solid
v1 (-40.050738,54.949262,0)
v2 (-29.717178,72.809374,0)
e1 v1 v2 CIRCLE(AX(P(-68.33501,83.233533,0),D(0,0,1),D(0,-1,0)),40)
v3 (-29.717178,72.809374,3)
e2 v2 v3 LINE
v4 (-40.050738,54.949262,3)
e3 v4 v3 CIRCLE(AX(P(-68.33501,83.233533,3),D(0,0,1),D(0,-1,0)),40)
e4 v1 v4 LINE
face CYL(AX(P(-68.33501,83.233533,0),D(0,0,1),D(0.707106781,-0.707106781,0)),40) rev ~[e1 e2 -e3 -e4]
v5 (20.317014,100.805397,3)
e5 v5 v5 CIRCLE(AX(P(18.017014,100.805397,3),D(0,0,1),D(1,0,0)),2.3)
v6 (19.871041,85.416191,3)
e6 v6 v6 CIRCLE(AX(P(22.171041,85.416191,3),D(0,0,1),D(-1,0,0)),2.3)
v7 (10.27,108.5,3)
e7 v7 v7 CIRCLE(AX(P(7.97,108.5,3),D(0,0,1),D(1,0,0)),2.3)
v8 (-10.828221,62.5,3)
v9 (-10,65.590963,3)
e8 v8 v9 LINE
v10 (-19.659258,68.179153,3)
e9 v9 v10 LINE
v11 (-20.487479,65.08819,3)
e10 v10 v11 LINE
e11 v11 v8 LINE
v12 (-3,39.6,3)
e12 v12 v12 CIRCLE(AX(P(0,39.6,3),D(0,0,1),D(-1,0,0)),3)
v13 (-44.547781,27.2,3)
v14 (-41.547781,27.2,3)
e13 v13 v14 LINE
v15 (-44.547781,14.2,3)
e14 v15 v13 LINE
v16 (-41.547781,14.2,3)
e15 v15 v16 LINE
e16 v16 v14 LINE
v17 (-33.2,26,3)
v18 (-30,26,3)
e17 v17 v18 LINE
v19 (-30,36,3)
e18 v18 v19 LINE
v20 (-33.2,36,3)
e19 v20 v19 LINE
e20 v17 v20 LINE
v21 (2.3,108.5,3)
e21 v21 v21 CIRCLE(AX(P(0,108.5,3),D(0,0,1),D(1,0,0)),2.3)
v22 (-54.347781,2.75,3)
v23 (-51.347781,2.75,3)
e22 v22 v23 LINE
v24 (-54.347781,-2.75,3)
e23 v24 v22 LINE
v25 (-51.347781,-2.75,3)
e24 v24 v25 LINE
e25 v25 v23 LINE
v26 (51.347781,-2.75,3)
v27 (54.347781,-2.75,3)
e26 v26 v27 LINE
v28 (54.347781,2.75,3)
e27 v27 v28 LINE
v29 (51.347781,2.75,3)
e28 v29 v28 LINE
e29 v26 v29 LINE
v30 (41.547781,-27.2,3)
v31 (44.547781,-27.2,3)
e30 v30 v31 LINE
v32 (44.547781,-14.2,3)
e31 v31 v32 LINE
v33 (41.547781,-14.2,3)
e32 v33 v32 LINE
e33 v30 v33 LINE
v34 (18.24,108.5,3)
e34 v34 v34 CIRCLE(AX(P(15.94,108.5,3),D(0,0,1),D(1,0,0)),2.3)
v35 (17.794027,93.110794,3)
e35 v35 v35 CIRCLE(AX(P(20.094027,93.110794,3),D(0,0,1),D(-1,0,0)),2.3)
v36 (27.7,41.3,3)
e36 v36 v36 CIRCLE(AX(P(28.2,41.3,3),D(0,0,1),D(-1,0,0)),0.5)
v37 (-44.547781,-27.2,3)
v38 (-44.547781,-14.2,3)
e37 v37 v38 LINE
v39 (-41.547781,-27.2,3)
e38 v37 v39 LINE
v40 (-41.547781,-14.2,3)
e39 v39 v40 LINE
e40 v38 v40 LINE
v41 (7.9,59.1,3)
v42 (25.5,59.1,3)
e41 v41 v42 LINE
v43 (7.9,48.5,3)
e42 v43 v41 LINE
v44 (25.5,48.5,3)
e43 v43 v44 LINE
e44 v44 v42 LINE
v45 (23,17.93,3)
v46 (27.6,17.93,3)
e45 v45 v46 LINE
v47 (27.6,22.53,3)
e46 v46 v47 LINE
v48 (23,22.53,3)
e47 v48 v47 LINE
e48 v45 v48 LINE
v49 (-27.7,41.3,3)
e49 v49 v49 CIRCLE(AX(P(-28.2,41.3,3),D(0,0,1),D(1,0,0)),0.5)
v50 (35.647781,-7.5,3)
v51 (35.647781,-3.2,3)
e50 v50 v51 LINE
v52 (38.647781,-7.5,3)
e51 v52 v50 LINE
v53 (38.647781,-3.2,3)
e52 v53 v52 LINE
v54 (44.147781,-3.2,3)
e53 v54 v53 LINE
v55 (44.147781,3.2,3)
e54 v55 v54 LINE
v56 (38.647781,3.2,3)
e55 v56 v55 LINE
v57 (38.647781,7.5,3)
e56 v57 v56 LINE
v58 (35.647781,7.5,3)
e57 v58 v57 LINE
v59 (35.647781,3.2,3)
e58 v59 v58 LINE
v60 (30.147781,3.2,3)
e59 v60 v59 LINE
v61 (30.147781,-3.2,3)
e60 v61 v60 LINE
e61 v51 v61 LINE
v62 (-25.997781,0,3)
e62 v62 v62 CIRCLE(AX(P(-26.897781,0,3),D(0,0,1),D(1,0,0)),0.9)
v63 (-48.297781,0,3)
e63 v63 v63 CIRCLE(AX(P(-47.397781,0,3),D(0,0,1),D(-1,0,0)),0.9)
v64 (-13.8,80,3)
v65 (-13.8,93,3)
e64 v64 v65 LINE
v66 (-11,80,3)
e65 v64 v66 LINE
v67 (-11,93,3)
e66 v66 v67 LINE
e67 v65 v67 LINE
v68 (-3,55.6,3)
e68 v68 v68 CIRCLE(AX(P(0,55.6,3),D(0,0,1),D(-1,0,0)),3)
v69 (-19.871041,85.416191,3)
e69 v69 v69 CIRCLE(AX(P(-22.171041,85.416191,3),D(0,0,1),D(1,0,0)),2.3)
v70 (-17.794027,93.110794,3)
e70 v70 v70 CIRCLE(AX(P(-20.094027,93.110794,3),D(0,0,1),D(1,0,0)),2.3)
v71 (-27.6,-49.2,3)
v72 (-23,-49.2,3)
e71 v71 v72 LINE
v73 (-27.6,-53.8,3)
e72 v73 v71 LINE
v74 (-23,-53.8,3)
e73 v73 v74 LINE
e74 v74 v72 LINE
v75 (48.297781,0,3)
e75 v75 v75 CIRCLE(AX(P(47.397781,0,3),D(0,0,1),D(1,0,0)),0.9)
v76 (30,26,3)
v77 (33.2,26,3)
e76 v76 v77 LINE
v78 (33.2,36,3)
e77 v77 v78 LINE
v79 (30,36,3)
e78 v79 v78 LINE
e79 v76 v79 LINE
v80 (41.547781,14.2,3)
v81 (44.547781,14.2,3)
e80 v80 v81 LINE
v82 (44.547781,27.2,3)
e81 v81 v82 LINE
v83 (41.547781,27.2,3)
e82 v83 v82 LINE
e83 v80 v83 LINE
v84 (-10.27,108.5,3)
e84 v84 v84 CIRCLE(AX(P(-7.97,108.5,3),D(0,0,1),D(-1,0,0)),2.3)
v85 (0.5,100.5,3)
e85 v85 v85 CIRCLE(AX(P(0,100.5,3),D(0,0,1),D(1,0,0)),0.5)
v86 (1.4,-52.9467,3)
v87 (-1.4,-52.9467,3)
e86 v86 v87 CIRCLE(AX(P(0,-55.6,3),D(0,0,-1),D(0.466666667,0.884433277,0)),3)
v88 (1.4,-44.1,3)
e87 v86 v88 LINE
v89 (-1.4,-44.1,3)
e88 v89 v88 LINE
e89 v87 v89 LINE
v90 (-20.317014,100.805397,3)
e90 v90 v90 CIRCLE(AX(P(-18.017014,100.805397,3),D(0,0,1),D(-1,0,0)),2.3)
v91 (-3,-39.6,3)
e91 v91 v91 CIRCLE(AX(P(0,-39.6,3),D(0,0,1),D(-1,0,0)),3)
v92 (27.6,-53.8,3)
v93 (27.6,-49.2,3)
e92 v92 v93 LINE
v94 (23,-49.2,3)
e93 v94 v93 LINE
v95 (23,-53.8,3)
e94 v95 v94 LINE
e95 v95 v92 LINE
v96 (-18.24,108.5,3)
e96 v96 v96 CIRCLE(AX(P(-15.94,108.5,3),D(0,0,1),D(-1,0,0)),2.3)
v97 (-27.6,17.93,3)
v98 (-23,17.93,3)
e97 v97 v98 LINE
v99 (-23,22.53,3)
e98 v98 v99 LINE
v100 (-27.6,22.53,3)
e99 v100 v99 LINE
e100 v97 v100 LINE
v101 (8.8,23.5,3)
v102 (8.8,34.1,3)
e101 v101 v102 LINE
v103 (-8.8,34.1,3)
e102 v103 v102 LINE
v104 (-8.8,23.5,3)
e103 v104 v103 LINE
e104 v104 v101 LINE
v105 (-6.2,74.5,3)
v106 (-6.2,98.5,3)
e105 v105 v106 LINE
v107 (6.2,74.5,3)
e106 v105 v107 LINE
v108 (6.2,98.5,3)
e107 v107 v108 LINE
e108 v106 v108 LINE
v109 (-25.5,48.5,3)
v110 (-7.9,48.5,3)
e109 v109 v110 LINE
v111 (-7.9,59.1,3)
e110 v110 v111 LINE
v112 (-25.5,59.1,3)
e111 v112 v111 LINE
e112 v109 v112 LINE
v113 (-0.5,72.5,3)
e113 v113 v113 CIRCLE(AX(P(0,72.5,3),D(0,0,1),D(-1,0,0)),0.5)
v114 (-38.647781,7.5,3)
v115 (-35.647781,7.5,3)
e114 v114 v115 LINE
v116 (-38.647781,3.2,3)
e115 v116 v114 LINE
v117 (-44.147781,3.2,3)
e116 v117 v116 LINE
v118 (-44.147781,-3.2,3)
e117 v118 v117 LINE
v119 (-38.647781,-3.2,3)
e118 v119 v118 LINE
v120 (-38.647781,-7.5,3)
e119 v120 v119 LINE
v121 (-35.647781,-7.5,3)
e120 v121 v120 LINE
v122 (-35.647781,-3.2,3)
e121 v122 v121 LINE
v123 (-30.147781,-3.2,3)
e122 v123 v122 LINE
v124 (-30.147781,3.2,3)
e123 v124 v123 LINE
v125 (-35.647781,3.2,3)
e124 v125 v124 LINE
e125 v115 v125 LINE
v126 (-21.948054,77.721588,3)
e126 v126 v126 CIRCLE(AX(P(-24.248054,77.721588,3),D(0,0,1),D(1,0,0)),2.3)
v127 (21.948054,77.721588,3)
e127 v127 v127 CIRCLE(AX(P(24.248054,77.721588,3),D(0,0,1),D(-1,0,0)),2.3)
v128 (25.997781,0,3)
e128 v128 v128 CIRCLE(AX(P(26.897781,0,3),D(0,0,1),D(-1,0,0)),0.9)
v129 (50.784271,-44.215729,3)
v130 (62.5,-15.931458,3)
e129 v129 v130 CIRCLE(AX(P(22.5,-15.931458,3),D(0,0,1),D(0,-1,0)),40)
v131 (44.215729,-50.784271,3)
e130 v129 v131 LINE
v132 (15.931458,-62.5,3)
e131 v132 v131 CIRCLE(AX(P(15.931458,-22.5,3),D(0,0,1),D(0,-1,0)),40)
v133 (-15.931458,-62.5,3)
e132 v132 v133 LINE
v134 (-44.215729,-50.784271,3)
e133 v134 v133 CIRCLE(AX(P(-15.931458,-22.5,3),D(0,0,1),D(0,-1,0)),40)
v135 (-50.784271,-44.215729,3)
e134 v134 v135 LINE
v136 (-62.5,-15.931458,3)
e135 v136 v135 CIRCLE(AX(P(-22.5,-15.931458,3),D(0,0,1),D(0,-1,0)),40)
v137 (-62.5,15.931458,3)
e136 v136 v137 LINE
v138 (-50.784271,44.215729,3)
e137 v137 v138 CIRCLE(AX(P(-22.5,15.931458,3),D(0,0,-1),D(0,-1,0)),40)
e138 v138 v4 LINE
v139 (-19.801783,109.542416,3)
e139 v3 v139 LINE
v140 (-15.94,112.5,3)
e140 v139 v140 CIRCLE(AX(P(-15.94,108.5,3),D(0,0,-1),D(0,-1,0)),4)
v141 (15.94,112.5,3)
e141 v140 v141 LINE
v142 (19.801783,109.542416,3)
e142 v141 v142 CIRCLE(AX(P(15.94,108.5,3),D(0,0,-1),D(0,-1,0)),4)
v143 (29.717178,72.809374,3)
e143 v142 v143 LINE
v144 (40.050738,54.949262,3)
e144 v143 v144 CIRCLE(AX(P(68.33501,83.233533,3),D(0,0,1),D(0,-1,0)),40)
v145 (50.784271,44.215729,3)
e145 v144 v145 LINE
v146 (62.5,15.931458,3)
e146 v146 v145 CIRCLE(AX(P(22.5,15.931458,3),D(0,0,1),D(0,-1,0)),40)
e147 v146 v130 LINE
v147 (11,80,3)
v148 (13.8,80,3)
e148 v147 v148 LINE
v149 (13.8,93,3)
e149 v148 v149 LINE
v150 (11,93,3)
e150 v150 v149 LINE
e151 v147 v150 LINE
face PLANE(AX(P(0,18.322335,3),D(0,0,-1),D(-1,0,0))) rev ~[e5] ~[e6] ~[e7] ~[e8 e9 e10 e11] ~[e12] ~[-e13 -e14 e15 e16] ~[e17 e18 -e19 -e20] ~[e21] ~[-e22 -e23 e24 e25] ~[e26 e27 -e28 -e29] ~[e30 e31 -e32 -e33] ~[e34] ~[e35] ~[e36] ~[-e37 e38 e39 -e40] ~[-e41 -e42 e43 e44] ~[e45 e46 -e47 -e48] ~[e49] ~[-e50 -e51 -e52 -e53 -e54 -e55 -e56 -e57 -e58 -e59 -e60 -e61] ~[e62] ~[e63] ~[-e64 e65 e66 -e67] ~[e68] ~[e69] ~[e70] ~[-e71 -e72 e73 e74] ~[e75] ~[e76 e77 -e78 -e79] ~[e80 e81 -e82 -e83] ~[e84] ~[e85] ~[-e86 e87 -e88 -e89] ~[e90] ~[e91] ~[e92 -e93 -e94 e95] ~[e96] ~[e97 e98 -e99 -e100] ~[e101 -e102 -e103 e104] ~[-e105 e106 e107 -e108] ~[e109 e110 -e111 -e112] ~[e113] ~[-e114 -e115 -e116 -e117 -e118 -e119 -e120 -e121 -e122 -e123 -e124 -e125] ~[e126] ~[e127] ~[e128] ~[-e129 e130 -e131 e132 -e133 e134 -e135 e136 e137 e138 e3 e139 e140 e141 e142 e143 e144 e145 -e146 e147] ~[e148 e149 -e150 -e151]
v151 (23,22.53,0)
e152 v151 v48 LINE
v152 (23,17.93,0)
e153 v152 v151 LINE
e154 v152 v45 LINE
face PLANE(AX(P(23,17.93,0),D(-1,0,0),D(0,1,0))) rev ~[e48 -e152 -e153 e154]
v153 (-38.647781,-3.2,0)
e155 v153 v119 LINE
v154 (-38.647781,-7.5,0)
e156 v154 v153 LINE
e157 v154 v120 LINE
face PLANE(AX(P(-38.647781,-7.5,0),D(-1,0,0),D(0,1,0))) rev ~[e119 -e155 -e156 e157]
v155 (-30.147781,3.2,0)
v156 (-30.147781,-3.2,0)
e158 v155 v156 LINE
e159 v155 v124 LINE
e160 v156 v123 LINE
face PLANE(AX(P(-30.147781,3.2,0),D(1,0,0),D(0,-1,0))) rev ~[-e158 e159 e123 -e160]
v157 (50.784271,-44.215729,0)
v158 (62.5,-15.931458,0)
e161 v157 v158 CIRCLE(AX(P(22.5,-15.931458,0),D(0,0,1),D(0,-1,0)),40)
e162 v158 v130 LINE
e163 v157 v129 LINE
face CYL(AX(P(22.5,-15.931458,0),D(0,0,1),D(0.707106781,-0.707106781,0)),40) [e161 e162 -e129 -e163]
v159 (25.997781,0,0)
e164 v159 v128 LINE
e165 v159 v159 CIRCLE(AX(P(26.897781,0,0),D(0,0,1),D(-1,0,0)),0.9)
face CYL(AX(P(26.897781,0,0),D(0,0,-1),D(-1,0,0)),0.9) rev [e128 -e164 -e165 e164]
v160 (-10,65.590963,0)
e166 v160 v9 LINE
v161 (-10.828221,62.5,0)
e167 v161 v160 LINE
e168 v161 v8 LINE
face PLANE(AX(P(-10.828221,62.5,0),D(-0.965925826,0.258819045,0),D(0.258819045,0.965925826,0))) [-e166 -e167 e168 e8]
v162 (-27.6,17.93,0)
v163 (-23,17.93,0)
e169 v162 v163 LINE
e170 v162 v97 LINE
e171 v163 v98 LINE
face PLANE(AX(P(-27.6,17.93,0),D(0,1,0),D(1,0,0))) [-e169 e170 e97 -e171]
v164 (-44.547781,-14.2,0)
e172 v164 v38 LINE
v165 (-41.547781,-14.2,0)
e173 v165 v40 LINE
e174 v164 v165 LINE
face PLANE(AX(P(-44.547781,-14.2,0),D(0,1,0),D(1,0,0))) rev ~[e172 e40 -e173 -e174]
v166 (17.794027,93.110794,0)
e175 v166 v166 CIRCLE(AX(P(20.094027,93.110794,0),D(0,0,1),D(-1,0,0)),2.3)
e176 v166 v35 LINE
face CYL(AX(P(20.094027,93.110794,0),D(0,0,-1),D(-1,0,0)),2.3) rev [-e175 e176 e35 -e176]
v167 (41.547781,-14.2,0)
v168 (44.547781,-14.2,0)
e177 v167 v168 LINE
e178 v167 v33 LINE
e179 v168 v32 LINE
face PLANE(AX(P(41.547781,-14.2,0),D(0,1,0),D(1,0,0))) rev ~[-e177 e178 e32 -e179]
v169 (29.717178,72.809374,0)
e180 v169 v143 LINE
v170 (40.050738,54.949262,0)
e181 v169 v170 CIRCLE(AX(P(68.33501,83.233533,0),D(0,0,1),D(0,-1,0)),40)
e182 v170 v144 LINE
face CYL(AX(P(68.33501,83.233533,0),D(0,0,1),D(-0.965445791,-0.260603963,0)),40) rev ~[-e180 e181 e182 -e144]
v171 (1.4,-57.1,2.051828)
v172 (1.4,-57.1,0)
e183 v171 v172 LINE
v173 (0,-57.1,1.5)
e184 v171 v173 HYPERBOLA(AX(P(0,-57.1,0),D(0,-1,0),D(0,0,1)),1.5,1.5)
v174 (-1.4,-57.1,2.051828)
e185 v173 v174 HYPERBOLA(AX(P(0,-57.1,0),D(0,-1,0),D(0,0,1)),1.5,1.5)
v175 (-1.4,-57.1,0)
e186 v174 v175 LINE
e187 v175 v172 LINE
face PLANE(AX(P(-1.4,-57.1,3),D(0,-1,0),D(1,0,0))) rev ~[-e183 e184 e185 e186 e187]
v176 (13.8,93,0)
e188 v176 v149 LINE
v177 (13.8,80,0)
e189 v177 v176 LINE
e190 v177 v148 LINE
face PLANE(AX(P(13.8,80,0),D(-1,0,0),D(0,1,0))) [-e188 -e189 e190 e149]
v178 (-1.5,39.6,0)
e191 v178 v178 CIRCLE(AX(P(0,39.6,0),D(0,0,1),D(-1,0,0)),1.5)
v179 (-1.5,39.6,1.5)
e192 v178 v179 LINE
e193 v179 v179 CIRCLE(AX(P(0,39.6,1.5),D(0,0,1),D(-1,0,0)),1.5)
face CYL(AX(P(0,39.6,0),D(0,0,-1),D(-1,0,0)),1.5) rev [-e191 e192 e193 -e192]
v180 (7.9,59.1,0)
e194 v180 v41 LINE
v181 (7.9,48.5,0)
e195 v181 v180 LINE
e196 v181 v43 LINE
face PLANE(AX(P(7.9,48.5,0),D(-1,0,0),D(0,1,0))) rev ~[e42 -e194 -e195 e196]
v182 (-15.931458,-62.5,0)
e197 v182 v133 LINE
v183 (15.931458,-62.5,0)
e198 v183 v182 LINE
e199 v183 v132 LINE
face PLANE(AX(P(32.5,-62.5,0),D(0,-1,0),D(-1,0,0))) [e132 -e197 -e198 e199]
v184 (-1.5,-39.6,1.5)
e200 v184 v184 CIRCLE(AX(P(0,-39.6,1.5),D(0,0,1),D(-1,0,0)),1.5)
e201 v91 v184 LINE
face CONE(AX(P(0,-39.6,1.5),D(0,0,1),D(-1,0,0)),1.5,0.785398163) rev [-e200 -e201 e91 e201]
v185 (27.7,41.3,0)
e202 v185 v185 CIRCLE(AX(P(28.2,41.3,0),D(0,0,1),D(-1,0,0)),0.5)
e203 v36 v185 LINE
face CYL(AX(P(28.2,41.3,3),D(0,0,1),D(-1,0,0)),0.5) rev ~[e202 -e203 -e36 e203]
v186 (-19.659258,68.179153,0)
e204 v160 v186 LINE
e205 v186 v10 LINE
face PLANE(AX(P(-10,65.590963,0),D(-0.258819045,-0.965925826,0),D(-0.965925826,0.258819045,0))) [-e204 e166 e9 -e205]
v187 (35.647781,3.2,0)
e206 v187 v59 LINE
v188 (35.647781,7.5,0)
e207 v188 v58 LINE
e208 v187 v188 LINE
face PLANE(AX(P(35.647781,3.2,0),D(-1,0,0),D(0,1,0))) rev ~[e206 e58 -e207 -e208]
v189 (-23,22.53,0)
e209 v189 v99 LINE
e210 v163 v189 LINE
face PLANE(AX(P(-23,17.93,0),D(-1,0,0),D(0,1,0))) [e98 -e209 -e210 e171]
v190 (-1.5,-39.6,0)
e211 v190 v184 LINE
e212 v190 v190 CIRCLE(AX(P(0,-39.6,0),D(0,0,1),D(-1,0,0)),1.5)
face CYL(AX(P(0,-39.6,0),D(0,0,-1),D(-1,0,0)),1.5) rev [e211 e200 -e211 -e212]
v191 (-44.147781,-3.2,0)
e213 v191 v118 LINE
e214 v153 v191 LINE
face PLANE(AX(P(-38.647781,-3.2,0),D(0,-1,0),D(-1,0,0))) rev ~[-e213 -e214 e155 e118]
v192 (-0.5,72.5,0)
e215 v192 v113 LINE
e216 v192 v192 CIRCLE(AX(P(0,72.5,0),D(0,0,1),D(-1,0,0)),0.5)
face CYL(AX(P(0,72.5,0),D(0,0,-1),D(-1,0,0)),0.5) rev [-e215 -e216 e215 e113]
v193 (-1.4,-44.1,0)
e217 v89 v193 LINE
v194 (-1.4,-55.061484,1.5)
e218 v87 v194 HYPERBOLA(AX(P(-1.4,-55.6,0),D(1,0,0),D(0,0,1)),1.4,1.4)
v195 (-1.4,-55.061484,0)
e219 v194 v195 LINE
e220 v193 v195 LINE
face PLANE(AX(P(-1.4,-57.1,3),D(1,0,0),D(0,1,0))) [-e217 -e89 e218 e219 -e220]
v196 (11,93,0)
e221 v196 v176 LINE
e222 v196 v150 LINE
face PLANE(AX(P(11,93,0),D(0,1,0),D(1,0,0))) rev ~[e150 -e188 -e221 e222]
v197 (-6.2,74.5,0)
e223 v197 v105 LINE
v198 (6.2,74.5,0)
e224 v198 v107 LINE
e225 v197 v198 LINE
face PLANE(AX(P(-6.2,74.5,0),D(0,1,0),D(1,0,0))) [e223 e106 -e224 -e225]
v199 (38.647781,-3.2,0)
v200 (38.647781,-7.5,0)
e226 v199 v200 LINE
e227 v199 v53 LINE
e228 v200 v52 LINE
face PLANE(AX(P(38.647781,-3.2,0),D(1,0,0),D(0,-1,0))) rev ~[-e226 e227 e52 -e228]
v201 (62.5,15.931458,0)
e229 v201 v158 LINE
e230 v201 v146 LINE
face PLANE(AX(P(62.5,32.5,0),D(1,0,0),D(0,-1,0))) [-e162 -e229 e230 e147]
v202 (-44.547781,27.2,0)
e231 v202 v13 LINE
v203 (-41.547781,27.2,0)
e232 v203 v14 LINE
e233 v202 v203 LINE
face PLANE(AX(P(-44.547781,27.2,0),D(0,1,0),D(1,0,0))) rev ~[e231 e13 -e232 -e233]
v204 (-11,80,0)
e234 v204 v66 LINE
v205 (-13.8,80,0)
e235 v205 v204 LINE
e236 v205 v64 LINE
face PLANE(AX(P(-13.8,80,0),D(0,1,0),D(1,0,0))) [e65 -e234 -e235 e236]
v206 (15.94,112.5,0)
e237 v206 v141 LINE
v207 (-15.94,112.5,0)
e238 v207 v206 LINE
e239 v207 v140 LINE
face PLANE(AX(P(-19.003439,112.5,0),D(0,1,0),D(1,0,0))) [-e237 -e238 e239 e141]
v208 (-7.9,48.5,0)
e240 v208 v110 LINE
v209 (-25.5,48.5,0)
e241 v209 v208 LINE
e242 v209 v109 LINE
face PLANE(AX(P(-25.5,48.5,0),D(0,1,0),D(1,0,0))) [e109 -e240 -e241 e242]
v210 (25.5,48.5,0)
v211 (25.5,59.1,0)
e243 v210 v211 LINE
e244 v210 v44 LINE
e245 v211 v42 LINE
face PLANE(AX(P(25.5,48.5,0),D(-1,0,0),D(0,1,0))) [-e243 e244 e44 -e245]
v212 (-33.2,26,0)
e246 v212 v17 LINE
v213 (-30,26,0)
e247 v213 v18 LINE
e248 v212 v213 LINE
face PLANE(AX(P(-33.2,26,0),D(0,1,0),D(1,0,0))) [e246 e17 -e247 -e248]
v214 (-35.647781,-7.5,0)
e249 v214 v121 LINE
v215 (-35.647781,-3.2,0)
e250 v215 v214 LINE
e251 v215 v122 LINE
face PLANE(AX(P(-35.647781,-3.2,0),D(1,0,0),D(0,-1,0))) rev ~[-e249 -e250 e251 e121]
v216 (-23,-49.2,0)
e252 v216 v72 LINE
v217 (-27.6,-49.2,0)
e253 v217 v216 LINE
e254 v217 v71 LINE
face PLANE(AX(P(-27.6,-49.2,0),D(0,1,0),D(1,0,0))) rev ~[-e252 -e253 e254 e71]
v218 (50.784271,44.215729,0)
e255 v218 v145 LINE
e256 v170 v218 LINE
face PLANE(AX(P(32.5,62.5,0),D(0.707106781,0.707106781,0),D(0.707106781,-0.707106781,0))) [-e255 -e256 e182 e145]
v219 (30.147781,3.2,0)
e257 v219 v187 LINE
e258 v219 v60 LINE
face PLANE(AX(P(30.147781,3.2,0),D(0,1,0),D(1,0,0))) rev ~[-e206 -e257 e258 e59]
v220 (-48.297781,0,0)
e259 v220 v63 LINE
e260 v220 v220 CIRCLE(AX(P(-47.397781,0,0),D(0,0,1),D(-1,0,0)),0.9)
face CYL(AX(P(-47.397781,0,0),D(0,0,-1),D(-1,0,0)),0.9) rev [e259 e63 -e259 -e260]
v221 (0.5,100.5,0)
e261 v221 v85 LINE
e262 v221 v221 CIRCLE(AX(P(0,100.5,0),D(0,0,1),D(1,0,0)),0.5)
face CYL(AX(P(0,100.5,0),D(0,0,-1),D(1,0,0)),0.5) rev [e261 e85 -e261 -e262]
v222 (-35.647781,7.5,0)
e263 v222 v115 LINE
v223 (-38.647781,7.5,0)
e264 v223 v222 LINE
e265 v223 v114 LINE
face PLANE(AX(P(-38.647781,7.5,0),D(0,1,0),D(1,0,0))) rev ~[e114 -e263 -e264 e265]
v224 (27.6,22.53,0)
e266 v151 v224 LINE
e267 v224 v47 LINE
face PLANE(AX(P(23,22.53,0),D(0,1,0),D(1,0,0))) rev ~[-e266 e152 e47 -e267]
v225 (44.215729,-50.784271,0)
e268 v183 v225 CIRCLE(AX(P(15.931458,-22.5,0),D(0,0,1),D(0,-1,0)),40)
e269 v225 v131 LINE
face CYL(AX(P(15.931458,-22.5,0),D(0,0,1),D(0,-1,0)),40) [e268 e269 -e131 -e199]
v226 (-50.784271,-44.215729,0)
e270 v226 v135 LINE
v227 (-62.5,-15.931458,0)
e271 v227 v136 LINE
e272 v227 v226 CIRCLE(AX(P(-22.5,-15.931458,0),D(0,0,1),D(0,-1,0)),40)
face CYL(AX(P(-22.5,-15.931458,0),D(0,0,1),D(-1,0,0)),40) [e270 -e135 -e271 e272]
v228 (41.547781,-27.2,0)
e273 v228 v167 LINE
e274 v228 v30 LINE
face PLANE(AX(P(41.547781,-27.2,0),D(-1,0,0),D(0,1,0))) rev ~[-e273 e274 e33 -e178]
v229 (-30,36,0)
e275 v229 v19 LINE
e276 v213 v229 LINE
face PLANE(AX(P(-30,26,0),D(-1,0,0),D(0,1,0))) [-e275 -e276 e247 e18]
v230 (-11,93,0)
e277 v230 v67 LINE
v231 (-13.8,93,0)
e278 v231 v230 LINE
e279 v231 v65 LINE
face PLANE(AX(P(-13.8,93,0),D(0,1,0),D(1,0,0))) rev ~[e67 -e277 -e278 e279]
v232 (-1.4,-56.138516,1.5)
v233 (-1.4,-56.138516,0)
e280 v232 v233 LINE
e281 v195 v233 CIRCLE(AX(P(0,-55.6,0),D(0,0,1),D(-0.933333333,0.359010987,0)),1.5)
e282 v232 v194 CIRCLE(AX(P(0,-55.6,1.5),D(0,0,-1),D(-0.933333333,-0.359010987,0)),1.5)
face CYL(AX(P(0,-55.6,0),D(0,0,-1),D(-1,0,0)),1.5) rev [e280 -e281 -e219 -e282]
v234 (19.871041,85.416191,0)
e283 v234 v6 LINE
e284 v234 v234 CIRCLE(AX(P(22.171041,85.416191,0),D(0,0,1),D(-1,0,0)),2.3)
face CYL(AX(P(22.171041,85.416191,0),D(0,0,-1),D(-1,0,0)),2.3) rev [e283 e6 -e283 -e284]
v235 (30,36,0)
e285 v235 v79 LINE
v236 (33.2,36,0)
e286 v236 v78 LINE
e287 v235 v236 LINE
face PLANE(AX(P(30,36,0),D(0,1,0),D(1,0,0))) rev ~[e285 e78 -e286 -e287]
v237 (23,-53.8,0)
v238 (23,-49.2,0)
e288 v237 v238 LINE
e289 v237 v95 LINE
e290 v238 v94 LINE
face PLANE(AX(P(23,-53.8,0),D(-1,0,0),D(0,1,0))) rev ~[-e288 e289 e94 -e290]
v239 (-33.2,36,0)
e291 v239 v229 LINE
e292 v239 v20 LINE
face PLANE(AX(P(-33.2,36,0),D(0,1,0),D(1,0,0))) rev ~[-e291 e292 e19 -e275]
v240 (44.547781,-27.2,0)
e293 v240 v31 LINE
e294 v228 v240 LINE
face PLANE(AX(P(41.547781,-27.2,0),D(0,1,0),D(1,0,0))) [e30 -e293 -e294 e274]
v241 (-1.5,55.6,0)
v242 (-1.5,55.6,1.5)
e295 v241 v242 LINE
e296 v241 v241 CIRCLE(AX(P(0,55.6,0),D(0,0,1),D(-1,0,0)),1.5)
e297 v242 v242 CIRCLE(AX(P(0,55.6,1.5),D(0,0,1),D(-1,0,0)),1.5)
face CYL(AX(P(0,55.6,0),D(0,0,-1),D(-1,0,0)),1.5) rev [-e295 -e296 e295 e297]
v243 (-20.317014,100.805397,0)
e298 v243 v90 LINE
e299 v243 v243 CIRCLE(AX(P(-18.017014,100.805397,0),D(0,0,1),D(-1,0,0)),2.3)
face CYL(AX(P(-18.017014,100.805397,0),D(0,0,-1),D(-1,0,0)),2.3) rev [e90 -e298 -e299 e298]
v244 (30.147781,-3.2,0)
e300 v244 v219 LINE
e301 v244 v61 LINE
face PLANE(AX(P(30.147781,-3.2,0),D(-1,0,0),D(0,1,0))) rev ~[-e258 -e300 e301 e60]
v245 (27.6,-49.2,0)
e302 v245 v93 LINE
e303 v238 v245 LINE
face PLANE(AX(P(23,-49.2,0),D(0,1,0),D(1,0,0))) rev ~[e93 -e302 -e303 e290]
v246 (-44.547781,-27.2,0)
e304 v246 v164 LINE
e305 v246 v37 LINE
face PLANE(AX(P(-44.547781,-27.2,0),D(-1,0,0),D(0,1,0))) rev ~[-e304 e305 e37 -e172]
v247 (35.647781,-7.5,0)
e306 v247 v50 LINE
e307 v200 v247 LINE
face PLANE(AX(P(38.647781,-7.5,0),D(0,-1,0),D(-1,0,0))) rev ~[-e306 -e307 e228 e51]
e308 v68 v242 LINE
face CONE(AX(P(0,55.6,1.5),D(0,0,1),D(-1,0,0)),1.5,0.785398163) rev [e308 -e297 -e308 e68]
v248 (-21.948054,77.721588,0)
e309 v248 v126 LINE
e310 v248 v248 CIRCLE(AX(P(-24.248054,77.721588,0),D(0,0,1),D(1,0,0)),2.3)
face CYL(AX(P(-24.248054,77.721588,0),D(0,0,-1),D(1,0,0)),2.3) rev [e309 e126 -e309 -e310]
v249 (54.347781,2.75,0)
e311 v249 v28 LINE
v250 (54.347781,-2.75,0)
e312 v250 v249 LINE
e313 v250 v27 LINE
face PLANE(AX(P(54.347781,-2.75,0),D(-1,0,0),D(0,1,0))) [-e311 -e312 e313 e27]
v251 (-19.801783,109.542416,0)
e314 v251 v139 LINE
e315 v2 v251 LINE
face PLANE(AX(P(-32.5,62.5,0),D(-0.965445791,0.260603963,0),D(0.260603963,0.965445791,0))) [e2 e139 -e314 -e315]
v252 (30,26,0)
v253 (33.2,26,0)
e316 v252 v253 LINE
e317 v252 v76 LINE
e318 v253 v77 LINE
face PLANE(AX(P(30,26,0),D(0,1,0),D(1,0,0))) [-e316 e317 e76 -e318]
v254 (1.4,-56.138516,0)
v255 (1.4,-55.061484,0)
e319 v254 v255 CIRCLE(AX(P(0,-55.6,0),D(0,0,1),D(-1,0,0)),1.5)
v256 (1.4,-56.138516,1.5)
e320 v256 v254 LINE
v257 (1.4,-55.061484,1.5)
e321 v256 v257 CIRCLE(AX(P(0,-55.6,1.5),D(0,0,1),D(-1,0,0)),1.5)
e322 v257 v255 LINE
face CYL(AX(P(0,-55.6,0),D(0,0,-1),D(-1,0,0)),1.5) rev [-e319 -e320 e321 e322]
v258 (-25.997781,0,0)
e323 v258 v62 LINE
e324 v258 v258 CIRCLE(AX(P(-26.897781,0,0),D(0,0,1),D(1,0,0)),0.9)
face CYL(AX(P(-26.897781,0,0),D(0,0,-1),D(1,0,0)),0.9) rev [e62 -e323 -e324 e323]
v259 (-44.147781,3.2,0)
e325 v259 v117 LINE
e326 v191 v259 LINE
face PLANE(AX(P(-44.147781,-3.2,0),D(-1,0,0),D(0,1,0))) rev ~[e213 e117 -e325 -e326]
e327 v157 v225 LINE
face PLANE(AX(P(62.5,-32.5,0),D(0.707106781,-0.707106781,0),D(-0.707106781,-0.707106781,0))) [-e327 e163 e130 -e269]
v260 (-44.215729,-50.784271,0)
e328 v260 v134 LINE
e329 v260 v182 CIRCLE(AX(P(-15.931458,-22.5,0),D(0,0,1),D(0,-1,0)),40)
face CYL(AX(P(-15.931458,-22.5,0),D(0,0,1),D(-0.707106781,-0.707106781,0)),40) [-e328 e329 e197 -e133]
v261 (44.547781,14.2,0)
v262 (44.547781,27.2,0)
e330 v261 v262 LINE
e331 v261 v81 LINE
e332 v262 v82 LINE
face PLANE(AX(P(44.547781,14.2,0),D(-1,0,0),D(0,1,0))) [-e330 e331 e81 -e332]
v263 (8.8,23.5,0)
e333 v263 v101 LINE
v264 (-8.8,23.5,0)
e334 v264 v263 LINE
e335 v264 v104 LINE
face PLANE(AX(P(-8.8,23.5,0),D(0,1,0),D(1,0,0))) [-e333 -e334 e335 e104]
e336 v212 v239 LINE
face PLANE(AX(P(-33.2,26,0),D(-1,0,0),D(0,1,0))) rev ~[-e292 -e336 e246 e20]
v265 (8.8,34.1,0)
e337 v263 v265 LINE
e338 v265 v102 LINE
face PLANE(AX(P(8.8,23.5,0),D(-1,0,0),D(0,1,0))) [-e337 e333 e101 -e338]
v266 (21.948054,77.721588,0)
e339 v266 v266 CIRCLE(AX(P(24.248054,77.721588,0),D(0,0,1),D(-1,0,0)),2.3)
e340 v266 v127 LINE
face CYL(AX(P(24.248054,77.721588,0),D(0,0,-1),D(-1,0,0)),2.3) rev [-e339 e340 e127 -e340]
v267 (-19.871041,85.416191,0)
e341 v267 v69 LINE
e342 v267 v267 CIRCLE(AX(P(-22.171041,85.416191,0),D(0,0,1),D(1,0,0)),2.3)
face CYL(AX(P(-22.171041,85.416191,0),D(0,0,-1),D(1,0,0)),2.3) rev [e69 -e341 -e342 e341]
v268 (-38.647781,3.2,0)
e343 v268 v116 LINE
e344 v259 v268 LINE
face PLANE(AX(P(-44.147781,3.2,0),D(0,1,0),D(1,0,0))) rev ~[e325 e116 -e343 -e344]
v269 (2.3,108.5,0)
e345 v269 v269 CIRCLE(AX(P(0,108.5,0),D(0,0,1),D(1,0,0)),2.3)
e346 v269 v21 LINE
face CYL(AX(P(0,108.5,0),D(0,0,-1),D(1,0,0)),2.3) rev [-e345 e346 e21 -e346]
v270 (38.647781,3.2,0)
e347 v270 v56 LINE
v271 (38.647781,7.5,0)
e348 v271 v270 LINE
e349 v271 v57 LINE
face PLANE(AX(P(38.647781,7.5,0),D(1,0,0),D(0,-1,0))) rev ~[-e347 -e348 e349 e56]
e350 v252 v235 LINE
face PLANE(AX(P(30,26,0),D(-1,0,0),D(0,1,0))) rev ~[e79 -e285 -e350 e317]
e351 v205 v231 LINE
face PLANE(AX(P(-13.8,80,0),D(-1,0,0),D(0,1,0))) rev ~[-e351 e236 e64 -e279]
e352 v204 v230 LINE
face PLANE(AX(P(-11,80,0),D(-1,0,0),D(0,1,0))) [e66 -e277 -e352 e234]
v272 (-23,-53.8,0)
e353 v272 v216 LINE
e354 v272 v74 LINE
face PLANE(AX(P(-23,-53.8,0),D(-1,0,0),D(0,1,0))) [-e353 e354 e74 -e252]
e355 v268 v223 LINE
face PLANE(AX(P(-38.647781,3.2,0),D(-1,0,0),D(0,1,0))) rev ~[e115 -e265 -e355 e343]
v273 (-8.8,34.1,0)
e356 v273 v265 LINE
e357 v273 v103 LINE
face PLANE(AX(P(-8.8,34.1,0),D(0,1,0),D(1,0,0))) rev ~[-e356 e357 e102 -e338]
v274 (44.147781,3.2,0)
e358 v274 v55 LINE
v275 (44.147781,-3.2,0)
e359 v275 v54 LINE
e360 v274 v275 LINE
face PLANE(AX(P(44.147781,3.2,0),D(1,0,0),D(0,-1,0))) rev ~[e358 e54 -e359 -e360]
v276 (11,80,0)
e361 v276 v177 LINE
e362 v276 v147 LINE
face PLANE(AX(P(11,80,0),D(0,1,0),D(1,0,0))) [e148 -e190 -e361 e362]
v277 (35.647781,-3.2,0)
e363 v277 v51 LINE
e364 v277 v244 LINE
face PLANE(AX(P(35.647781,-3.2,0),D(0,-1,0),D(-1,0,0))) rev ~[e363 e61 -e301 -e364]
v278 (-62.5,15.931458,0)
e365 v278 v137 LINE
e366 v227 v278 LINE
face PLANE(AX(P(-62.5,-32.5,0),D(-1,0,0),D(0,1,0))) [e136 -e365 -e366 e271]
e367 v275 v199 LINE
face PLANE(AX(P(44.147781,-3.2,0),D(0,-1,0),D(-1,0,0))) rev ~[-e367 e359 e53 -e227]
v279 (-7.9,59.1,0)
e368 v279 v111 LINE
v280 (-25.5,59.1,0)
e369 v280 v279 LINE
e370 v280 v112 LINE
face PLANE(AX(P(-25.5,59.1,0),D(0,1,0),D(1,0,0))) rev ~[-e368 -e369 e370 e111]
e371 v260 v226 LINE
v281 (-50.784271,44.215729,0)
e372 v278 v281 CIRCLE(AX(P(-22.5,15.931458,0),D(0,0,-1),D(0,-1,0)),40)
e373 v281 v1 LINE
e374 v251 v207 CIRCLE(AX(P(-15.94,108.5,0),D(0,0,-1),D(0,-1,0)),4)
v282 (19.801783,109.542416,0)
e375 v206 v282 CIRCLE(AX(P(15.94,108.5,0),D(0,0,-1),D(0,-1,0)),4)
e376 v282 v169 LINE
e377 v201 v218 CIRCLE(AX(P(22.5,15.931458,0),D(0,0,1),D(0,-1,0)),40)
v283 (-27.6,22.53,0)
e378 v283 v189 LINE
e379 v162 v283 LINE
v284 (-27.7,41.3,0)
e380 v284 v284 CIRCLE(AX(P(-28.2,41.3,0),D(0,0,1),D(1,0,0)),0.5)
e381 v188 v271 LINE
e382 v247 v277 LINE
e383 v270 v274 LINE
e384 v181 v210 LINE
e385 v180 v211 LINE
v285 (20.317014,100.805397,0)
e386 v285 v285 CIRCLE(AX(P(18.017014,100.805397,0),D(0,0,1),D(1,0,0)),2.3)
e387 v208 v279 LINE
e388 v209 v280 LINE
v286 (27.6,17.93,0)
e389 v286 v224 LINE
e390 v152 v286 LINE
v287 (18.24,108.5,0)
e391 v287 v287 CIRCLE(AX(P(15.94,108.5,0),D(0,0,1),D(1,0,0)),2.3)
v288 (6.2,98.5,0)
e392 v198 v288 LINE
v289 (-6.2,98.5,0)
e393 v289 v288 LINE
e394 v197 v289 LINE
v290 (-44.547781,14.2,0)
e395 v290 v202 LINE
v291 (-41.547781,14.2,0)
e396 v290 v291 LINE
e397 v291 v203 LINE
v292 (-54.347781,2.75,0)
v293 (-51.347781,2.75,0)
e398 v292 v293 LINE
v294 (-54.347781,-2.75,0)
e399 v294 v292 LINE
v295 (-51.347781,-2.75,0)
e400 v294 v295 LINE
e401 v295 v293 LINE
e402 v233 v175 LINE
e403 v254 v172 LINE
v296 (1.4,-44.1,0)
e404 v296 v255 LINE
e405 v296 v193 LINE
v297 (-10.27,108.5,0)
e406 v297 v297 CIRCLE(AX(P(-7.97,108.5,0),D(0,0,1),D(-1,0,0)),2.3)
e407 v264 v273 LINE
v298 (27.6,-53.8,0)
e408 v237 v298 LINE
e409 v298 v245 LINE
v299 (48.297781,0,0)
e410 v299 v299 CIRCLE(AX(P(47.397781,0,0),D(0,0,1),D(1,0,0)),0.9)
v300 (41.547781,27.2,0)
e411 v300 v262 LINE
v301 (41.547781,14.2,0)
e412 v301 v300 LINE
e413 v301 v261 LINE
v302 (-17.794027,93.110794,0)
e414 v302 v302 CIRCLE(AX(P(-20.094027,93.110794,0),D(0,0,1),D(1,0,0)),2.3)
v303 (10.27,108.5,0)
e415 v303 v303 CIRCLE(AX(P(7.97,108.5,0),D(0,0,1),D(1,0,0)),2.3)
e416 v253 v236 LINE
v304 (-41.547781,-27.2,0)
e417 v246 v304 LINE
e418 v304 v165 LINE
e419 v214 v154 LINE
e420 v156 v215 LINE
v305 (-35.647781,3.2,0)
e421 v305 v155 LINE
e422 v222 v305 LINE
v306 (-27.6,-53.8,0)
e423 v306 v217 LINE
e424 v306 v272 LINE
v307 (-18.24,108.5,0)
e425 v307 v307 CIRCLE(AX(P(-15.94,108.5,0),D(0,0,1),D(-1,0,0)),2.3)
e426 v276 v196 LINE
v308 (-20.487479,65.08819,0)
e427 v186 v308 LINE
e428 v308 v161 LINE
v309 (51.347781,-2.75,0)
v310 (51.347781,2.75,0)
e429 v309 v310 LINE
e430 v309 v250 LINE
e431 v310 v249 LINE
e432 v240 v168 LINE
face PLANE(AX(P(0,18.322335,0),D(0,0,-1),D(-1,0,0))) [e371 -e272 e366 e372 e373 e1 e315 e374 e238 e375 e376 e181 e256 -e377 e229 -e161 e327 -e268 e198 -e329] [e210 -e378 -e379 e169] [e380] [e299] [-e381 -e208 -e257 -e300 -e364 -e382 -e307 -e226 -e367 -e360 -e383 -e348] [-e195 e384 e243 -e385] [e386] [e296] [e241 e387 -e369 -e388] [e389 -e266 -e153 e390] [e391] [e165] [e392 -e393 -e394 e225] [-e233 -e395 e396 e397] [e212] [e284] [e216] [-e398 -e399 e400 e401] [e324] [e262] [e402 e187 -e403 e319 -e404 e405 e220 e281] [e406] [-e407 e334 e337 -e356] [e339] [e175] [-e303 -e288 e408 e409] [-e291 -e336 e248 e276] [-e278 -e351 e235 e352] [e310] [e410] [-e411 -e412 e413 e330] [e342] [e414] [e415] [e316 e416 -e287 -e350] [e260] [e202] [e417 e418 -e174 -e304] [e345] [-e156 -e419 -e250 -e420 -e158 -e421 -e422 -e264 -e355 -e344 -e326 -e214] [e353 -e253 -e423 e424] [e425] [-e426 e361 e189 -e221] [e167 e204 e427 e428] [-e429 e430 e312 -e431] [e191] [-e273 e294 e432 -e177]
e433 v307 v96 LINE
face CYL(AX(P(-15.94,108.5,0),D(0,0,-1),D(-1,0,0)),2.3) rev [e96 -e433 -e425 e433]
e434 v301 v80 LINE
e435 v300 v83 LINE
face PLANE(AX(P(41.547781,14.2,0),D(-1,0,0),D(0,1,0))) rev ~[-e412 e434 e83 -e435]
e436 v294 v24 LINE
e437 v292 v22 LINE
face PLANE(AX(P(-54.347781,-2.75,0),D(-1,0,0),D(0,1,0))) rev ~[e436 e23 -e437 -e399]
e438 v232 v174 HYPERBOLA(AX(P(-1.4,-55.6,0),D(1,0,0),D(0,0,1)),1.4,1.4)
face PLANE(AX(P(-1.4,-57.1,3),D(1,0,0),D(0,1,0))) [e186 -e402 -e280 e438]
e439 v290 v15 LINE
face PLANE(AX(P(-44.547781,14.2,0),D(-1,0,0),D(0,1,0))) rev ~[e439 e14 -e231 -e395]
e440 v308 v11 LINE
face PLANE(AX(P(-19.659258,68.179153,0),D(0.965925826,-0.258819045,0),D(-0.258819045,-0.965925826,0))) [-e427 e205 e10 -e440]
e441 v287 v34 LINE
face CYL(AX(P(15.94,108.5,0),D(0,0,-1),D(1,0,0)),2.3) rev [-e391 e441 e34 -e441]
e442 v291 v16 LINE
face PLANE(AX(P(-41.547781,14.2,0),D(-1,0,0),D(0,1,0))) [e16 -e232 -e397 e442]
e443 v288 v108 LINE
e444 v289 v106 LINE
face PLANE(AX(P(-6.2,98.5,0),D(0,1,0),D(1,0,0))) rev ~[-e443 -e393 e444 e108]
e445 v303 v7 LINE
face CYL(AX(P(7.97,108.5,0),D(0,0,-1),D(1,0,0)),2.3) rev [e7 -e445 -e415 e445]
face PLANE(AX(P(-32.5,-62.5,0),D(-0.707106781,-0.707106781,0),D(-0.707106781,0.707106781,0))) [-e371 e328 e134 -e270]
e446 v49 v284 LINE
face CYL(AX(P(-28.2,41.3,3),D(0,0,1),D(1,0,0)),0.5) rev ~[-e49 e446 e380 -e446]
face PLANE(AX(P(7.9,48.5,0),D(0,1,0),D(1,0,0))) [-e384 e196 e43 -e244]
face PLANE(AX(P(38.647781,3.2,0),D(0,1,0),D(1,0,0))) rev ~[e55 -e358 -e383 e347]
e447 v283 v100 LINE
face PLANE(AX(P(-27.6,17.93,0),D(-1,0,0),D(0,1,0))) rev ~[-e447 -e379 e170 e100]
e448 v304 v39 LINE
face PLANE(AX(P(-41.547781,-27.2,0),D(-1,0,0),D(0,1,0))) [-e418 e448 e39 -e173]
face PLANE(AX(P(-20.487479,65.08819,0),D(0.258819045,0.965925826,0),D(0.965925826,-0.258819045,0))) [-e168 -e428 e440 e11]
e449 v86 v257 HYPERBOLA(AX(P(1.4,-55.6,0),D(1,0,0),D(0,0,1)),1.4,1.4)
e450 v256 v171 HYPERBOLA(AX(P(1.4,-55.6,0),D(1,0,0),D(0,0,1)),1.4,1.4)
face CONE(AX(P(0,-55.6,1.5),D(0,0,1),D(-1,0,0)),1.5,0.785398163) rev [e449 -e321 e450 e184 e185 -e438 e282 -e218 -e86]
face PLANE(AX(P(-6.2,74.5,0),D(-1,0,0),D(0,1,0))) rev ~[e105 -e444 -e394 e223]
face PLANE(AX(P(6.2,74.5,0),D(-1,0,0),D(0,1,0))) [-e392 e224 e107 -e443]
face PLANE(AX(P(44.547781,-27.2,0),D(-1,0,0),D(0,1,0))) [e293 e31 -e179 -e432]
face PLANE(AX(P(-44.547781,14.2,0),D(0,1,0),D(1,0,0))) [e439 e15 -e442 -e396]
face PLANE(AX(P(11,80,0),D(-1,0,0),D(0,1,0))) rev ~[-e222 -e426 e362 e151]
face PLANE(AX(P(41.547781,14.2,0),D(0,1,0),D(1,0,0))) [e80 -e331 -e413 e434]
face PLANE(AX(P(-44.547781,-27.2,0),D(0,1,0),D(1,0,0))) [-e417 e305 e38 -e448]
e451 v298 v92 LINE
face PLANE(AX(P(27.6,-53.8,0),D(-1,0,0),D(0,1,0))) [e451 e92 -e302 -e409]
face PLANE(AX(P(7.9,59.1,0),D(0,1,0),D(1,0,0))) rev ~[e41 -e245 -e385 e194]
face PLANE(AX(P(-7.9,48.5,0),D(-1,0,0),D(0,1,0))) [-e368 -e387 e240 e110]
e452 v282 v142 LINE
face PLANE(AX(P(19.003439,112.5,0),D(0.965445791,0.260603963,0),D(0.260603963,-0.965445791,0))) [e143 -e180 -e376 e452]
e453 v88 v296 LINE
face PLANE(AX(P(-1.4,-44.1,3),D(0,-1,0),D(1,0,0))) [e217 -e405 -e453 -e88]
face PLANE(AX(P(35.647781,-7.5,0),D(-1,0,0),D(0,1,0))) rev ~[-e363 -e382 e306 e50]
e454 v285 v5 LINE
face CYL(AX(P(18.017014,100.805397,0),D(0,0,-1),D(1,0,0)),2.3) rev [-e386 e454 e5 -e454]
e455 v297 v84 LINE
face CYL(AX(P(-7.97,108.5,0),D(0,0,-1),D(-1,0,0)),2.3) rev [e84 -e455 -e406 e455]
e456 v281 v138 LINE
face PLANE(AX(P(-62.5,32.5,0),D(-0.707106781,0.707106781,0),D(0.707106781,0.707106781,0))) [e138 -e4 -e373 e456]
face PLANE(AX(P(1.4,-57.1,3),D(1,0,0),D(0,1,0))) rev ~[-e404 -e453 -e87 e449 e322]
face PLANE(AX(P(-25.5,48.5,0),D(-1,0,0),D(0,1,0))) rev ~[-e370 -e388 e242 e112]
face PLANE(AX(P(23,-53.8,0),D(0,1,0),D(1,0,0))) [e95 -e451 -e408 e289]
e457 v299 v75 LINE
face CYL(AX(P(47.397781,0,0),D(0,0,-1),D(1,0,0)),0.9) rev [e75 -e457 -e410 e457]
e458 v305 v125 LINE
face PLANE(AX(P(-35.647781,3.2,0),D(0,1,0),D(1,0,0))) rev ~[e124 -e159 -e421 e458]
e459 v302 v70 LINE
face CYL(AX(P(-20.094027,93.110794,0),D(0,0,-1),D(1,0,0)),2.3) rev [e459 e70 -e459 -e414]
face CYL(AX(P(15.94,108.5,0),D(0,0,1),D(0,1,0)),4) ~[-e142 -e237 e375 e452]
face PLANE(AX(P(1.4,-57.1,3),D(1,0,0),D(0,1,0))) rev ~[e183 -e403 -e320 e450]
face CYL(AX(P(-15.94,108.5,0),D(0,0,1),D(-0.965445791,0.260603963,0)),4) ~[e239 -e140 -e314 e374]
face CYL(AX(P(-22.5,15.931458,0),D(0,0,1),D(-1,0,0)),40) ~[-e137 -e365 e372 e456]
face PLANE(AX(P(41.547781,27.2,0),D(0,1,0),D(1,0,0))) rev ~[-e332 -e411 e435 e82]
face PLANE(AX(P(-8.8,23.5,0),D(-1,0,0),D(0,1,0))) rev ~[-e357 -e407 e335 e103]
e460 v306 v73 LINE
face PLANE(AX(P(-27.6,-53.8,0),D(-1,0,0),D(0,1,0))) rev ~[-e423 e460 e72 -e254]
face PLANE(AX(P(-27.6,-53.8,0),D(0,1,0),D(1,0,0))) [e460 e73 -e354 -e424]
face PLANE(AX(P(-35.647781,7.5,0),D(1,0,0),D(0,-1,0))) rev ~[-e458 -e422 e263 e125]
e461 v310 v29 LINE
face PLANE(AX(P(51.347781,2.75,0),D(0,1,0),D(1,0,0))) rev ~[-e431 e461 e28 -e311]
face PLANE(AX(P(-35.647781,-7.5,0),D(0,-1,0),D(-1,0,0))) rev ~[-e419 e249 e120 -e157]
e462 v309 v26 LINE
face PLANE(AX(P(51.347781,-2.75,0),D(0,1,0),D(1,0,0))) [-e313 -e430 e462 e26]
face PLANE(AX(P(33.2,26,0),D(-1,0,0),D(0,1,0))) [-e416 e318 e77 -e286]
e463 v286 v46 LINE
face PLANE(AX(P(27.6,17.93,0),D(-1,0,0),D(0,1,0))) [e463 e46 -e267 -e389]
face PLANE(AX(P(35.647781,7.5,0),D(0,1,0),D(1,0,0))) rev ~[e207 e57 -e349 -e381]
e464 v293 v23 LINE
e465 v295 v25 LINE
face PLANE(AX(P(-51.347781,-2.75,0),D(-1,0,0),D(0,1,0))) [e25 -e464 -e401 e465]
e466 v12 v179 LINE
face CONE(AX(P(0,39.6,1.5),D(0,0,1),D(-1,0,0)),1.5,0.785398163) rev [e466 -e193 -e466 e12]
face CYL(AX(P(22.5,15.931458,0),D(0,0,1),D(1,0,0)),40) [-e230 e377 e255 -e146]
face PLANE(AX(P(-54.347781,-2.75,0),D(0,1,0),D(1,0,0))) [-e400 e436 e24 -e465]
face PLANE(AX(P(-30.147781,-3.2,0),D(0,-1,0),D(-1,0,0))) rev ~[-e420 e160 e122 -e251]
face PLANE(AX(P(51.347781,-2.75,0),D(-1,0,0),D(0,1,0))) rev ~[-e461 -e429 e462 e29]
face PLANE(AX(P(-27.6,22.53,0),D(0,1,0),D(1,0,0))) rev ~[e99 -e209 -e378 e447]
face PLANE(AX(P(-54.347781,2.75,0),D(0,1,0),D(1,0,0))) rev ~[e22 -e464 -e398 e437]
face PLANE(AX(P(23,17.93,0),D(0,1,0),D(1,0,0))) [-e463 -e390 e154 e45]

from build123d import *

# Parameters (mm, degrees)
SKICA1_R                 = 0.5
SKICA1_R_2               = 2.3
SKICA1_R_3               = 0.9
SKICA1_W                 = 3
SKICA1_H                 = 13
SKICA1_H_2               = 5.5
SKICA1_W_2               = 17.6
SKICA1_H_3               = 10.6
SKICA1_W_3               = 12.4
SKICA1_H_4               = 24
SKICA1_W_4               = 2.8
SKICA1_W_5               = 3.2
SKICA1_H_5               = 10
SKICA1_W_6               = 4.6
SKICA1_H_6               = 4.6
P_IDAT_VYSUNUT_M1_DEPTH  = 3
SKICA2_R                 = 1.5
ODEBRAT_VYSUNUT_M1_DEPTH = 3
ZKOSEN_1_SIZE            = 1.5
ZAOBLIT1_R               = 40
ZAOBLIT2_R               = 4
SKICA3_R                 = 0.5
SKICA3_W                 = 2.8
SKICA3_H                 = 13
ODEBRAT_VYSUNUT_M2_DEPTH = 129.730338305


with BuildPart() as part:
    # Skica1 → Přidat vysunutím1 (new body)
    with BuildSketch(Plane.XY):
        Polygon((-62.5, -32.5), (-62.5, 32.5), (-32.5, 62.5), (-19.003438856, 112.5), (19.003438856, 112.5), (32.5, 62.5), (62.5, 32.5), (62.5, -32.5), (32.5, -62.5), (-32.5, -62.5), align=None)
        with Locations((0, 100.5)):
            Circle(SKICA1_R, mode=Mode.SUBTRACT)
        with Locations(Location((0, 72.5, 0), (0, 0, 180))):
            Circle(SKICA1_R, mode=Mode.SUBTRACT)
        with Locations((0, 108.5)):
            Circle(SKICA1_R_2, mode=Mode.SUBTRACT)
        with Locations((7.97, 108.5)):
            Circle(SKICA1_R_2, mode=Mode.SUBTRACT)
        with Locations((15.94, 108.5)):
            Circle(SKICA1_R_2, mode=Mode.SUBTRACT)
        with Locations(Location((-15.94, 108.5, 0), (0, 0, 180))):
            Circle(SKICA1_R_2, mode=Mode.SUBTRACT)
        with Locations(Location((-7.97, 108.5, 0), (0, 0, 180))):
            Circle(SKICA1_R_2, mode=Mode.SUBTRACT)
        with Locations(Location((-18.017013584, 100.805397049, 0), (0, 0, 180))):
            Circle(SKICA1_R_2, mode=Mode.SUBTRACT)
        with Locations((-20.094027168, 93.110794098)):
            Circle(SKICA1_R_2, mode=Mode.SUBTRACT)
        with Locations((-22.171040752, 85.416191147)):
            Circle(SKICA1_R_2, mode=Mode.SUBTRACT)
        with Locations((-24.248054336, 77.721588196)):
            Circle(SKICA1_R_2, mode=Mode.SUBTRACT)
        with Locations(Location((24.248054336, 77.721588196, 0), (0, 0, 180))):
            Circle(SKICA1_R_2, mode=Mode.SUBTRACT)
        with Locations(Location((22.171040752, 85.416191147, 0), (0, 0, 180))):
            Circle(SKICA1_R_2, mode=Mode.SUBTRACT)
        with Locations(Location((20.094027168, 93.110794098, 0), (0, 0, 180))):
            Circle(SKICA1_R_2, mode=Mode.SUBTRACT)
        with Locations((18.017013584, 100.805397049)):
            Circle(SKICA1_R_2, mode=Mode.SUBTRACT)
        with Locations((47.397781356, 0)):
            Circle(SKICA1_R_3, mode=Mode.SUBTRACT)
        with Locations(Location((26.897781356, 0, 0), (0, 0, 180))):
            Circle(SKICA1_R_3, mode=Mode.SUBTRACT)
        with Locations(Location((-47.397781356, 0, 0), (0, 0, 180))):
            Circle(SKICA1_R_3, mode=Mode.SUBTRACT)
        with Locations((-26.897781356, 0)):
            Circle(SKICA1_R_3, mode=Mode.SUBTRACT)
        Polygon((-44.147781356, 3.2), (-38.647781356, 3.2), (-38.647781356, 7.5), (-35.647781356, 7.5), (-35.647781356, 3.2), (-30.147781356, 3.2), (-30.147781356, -3.2), (-35.647781356, -3.2), (-35.647781356, -7.5), (-38.647781356, -7.5), (-38.647781356, -3.2), (-44.147781356, -3.2), align=None, mode=Mode.SUBTRACT)
        with Locations((-43.047781356, 20.7)):
            Rectangle(SKICA1_W, SKICA1_H, mode=Mode.SUBTRACT)
        with Locations((-52.847781356, 0)):
            Rectangle(SKICA1_W, SKICA1_H_2, mode=Mode.SUBTRACT)
        with Locations((-43.047781356, -20.7)):
            Rectangle(SKICA1_W, SKICA1_H, mode=Mode.SUBTRACT)
        Polygon((38.647781356, -7.5), (35.647781356, -7.5), (35.647781356, -3.2), (30.147781356, -3.2), (30.147781356, 3.2), (35.647781356, 3.2), (35.647781356, 7.5), (38.647781356, 7.5), (38.647781356, 3.2), (44.147781356, 3.2), (44.147781356, -3.2), (38.647781356, -3.2), align=None, mode=Mode.SUBTRACT)
        with Locations((52.847781356, 0)):
            Rectangle(SKICA1_W, SKICA1_H_2, mode=Mode.SUBTRACT)
        with Locations((43.047781356, 20.7)):
            Rectangle(SKICA1_W, SKICA1_H, mode=Mode.SUBTRACT)
        with Locations((43.047781356, -20.7)):
            Rectangle(SKICA1_W, SKICA1_H, mode=Mode.SUBTRACT)
        with Locations((16.7, 53.8)):
            Rectangle(SKICA1_W_2, SKICA1_H_3, mode=Mode.SUBTRACT)
        with Locations((0, 28.8)):
            Rectangle(SKICA1_W_2, SKICA1_H_3, mode=Mode.SUBTRACT)
        with Locations((-16.7, 53.8)):
            Rectangle(SKICA1_W_2, SKICA1_H_3, mode=Mode.SUBTRACT)
        with Locations((0, 86.5)):
            Rectangle(SKICA1_W_3, SKICA1_H_4, mode=Mode.SUBTRACT)
        with Locations((-12.4, 86.5)):
            Rectangle(SKICA1_W_4, SKICA1_H, mode=Mode.SUBTRACT)
        Polygon((-20.487479207, 65.088190451), (-10.828220944, 62.5), (-10, 65.590962644), (-19.659258263, 68.179153095), align=None, mode=Mode.SUBTRACT)
        with Locations((12.4, 86.5)):
            Rectangle(SKICA1_W_4, SKICA1_H, mode=Mode.SUBTRACT)
        with Locations((31.6, 31)):
            Rectangle(SKICA1_W_5, SKICA1_H_5, mode=Mode.SUBTRACT)
        with Locations((-31.6, 31)):
            Rectangle(SKICA1_W_5, SKICA1_H_5, mode=Mode.SUBTRACT)
        with Locations((25.3, 20.23)):
            Rectangle(SKICA1_W_6, SKICA1_H_6, mode=Mode.SUBTRACT)
        with Locations((25.3, -51.5)):
            Rectangle(SKICA1_W_6, SKICA1_H_6, mode=Mode.SUBTRACT)
        with Locations((-25.3, -51.5)):
            Rectangle(SKICA1_W_6, SKICA1_H_6, mode=Mode.SUBTRACT)
        with Locations((-25.3, 20.23)):
            Rectangle(SKICA1_W_6, SKICA1_H_6, mode=Mode.SUBTRACT)
    extrude(amount=P_IDAT_VYSUNUT_M1_DEPTH)

    # Skica2 → Odebrat vysunutím1 (cut)
    with BuildSketch(Plane.XY):
        with Locations(Location((0, 39.6, 0), (0, 0, 180))):
            Circle(SKICA2_R)
        with Locations(Location((0, 55.6, 0), (0, 0, 180))):
            Circle(SKICA2_R)
        with Locations(Location((0, -55.6, 0), (0, 0, 180))):
            Circle(SKICA2_R)
        with Locations(Location((0, -39.6, 0), (0, 0, 180))):
            Circle(SKICA2_R)
    extrude(amount=ODEBRAT_VYSUNUT_M1_DEPTH, mode=Mode.SUBTRACT)

    # Zkosení1
    zkosen_1_edges = [part.edges().sort_by_distance(p)[0] for p in [
        (1.5, 55.6, 3),
        (1.5, -55.6, 3),
        (1.5, -39.6, 3),
        (1.5, 39.6, 3),
    ]]
    chamfer(zkosen_1_edges, length=ZKOSEN_1_SIZE)

    # Zaoblit1
    zaoblit1_edges = [part.edges().sort_by_distance(p)[0] for p in [
        (-62.5, -32.5, 1.5),
        (-62.5, 32.5, 1.5),
        (-32.5, 62.5, 1.5),
        (32.5, 62.5, 1.5),
        (62.5, 32.5, 1.5),
        (62.5, -32.5, 1.5),
        (32.5, -62.5, 1.5),
        (-32.5, -62.5, 1.5),
    ]]
    fillet(zaoblit1_edges, radius=ZAOBLIT1_R)

    # Zaoblit2
    zaoblit2_edges = [part.edges().sort_by_distance(p)[0] for p in [
        (-19.003438856, 112.5, 1.5),
        (19.003438856, 112.5, 1.5),
    ]]
    fillet(zaoblit2_edges, radius=ZAOBLIT2_R)

    # Skica3 → Odebrat vysunutím2 (cut, through all)
    with BuildSketch(Plane.XY.offset(3)):
        with Locations((-28.2, 41.3)):
            Circle(SKICA3_R)
        with Locations(Location((28.2, 41.3, 0), (0, 0, 180))):
            Circle(SKICA3_R)
        with Locations((0, -50.6)):
            Rectangle(SKICA3_W, SKICA3_H)
    extrude(amount=-ODEBRAT_VYSUNUT_M2_DEPTH, mode=Mode.SUBTRACT)


solid = part.part
